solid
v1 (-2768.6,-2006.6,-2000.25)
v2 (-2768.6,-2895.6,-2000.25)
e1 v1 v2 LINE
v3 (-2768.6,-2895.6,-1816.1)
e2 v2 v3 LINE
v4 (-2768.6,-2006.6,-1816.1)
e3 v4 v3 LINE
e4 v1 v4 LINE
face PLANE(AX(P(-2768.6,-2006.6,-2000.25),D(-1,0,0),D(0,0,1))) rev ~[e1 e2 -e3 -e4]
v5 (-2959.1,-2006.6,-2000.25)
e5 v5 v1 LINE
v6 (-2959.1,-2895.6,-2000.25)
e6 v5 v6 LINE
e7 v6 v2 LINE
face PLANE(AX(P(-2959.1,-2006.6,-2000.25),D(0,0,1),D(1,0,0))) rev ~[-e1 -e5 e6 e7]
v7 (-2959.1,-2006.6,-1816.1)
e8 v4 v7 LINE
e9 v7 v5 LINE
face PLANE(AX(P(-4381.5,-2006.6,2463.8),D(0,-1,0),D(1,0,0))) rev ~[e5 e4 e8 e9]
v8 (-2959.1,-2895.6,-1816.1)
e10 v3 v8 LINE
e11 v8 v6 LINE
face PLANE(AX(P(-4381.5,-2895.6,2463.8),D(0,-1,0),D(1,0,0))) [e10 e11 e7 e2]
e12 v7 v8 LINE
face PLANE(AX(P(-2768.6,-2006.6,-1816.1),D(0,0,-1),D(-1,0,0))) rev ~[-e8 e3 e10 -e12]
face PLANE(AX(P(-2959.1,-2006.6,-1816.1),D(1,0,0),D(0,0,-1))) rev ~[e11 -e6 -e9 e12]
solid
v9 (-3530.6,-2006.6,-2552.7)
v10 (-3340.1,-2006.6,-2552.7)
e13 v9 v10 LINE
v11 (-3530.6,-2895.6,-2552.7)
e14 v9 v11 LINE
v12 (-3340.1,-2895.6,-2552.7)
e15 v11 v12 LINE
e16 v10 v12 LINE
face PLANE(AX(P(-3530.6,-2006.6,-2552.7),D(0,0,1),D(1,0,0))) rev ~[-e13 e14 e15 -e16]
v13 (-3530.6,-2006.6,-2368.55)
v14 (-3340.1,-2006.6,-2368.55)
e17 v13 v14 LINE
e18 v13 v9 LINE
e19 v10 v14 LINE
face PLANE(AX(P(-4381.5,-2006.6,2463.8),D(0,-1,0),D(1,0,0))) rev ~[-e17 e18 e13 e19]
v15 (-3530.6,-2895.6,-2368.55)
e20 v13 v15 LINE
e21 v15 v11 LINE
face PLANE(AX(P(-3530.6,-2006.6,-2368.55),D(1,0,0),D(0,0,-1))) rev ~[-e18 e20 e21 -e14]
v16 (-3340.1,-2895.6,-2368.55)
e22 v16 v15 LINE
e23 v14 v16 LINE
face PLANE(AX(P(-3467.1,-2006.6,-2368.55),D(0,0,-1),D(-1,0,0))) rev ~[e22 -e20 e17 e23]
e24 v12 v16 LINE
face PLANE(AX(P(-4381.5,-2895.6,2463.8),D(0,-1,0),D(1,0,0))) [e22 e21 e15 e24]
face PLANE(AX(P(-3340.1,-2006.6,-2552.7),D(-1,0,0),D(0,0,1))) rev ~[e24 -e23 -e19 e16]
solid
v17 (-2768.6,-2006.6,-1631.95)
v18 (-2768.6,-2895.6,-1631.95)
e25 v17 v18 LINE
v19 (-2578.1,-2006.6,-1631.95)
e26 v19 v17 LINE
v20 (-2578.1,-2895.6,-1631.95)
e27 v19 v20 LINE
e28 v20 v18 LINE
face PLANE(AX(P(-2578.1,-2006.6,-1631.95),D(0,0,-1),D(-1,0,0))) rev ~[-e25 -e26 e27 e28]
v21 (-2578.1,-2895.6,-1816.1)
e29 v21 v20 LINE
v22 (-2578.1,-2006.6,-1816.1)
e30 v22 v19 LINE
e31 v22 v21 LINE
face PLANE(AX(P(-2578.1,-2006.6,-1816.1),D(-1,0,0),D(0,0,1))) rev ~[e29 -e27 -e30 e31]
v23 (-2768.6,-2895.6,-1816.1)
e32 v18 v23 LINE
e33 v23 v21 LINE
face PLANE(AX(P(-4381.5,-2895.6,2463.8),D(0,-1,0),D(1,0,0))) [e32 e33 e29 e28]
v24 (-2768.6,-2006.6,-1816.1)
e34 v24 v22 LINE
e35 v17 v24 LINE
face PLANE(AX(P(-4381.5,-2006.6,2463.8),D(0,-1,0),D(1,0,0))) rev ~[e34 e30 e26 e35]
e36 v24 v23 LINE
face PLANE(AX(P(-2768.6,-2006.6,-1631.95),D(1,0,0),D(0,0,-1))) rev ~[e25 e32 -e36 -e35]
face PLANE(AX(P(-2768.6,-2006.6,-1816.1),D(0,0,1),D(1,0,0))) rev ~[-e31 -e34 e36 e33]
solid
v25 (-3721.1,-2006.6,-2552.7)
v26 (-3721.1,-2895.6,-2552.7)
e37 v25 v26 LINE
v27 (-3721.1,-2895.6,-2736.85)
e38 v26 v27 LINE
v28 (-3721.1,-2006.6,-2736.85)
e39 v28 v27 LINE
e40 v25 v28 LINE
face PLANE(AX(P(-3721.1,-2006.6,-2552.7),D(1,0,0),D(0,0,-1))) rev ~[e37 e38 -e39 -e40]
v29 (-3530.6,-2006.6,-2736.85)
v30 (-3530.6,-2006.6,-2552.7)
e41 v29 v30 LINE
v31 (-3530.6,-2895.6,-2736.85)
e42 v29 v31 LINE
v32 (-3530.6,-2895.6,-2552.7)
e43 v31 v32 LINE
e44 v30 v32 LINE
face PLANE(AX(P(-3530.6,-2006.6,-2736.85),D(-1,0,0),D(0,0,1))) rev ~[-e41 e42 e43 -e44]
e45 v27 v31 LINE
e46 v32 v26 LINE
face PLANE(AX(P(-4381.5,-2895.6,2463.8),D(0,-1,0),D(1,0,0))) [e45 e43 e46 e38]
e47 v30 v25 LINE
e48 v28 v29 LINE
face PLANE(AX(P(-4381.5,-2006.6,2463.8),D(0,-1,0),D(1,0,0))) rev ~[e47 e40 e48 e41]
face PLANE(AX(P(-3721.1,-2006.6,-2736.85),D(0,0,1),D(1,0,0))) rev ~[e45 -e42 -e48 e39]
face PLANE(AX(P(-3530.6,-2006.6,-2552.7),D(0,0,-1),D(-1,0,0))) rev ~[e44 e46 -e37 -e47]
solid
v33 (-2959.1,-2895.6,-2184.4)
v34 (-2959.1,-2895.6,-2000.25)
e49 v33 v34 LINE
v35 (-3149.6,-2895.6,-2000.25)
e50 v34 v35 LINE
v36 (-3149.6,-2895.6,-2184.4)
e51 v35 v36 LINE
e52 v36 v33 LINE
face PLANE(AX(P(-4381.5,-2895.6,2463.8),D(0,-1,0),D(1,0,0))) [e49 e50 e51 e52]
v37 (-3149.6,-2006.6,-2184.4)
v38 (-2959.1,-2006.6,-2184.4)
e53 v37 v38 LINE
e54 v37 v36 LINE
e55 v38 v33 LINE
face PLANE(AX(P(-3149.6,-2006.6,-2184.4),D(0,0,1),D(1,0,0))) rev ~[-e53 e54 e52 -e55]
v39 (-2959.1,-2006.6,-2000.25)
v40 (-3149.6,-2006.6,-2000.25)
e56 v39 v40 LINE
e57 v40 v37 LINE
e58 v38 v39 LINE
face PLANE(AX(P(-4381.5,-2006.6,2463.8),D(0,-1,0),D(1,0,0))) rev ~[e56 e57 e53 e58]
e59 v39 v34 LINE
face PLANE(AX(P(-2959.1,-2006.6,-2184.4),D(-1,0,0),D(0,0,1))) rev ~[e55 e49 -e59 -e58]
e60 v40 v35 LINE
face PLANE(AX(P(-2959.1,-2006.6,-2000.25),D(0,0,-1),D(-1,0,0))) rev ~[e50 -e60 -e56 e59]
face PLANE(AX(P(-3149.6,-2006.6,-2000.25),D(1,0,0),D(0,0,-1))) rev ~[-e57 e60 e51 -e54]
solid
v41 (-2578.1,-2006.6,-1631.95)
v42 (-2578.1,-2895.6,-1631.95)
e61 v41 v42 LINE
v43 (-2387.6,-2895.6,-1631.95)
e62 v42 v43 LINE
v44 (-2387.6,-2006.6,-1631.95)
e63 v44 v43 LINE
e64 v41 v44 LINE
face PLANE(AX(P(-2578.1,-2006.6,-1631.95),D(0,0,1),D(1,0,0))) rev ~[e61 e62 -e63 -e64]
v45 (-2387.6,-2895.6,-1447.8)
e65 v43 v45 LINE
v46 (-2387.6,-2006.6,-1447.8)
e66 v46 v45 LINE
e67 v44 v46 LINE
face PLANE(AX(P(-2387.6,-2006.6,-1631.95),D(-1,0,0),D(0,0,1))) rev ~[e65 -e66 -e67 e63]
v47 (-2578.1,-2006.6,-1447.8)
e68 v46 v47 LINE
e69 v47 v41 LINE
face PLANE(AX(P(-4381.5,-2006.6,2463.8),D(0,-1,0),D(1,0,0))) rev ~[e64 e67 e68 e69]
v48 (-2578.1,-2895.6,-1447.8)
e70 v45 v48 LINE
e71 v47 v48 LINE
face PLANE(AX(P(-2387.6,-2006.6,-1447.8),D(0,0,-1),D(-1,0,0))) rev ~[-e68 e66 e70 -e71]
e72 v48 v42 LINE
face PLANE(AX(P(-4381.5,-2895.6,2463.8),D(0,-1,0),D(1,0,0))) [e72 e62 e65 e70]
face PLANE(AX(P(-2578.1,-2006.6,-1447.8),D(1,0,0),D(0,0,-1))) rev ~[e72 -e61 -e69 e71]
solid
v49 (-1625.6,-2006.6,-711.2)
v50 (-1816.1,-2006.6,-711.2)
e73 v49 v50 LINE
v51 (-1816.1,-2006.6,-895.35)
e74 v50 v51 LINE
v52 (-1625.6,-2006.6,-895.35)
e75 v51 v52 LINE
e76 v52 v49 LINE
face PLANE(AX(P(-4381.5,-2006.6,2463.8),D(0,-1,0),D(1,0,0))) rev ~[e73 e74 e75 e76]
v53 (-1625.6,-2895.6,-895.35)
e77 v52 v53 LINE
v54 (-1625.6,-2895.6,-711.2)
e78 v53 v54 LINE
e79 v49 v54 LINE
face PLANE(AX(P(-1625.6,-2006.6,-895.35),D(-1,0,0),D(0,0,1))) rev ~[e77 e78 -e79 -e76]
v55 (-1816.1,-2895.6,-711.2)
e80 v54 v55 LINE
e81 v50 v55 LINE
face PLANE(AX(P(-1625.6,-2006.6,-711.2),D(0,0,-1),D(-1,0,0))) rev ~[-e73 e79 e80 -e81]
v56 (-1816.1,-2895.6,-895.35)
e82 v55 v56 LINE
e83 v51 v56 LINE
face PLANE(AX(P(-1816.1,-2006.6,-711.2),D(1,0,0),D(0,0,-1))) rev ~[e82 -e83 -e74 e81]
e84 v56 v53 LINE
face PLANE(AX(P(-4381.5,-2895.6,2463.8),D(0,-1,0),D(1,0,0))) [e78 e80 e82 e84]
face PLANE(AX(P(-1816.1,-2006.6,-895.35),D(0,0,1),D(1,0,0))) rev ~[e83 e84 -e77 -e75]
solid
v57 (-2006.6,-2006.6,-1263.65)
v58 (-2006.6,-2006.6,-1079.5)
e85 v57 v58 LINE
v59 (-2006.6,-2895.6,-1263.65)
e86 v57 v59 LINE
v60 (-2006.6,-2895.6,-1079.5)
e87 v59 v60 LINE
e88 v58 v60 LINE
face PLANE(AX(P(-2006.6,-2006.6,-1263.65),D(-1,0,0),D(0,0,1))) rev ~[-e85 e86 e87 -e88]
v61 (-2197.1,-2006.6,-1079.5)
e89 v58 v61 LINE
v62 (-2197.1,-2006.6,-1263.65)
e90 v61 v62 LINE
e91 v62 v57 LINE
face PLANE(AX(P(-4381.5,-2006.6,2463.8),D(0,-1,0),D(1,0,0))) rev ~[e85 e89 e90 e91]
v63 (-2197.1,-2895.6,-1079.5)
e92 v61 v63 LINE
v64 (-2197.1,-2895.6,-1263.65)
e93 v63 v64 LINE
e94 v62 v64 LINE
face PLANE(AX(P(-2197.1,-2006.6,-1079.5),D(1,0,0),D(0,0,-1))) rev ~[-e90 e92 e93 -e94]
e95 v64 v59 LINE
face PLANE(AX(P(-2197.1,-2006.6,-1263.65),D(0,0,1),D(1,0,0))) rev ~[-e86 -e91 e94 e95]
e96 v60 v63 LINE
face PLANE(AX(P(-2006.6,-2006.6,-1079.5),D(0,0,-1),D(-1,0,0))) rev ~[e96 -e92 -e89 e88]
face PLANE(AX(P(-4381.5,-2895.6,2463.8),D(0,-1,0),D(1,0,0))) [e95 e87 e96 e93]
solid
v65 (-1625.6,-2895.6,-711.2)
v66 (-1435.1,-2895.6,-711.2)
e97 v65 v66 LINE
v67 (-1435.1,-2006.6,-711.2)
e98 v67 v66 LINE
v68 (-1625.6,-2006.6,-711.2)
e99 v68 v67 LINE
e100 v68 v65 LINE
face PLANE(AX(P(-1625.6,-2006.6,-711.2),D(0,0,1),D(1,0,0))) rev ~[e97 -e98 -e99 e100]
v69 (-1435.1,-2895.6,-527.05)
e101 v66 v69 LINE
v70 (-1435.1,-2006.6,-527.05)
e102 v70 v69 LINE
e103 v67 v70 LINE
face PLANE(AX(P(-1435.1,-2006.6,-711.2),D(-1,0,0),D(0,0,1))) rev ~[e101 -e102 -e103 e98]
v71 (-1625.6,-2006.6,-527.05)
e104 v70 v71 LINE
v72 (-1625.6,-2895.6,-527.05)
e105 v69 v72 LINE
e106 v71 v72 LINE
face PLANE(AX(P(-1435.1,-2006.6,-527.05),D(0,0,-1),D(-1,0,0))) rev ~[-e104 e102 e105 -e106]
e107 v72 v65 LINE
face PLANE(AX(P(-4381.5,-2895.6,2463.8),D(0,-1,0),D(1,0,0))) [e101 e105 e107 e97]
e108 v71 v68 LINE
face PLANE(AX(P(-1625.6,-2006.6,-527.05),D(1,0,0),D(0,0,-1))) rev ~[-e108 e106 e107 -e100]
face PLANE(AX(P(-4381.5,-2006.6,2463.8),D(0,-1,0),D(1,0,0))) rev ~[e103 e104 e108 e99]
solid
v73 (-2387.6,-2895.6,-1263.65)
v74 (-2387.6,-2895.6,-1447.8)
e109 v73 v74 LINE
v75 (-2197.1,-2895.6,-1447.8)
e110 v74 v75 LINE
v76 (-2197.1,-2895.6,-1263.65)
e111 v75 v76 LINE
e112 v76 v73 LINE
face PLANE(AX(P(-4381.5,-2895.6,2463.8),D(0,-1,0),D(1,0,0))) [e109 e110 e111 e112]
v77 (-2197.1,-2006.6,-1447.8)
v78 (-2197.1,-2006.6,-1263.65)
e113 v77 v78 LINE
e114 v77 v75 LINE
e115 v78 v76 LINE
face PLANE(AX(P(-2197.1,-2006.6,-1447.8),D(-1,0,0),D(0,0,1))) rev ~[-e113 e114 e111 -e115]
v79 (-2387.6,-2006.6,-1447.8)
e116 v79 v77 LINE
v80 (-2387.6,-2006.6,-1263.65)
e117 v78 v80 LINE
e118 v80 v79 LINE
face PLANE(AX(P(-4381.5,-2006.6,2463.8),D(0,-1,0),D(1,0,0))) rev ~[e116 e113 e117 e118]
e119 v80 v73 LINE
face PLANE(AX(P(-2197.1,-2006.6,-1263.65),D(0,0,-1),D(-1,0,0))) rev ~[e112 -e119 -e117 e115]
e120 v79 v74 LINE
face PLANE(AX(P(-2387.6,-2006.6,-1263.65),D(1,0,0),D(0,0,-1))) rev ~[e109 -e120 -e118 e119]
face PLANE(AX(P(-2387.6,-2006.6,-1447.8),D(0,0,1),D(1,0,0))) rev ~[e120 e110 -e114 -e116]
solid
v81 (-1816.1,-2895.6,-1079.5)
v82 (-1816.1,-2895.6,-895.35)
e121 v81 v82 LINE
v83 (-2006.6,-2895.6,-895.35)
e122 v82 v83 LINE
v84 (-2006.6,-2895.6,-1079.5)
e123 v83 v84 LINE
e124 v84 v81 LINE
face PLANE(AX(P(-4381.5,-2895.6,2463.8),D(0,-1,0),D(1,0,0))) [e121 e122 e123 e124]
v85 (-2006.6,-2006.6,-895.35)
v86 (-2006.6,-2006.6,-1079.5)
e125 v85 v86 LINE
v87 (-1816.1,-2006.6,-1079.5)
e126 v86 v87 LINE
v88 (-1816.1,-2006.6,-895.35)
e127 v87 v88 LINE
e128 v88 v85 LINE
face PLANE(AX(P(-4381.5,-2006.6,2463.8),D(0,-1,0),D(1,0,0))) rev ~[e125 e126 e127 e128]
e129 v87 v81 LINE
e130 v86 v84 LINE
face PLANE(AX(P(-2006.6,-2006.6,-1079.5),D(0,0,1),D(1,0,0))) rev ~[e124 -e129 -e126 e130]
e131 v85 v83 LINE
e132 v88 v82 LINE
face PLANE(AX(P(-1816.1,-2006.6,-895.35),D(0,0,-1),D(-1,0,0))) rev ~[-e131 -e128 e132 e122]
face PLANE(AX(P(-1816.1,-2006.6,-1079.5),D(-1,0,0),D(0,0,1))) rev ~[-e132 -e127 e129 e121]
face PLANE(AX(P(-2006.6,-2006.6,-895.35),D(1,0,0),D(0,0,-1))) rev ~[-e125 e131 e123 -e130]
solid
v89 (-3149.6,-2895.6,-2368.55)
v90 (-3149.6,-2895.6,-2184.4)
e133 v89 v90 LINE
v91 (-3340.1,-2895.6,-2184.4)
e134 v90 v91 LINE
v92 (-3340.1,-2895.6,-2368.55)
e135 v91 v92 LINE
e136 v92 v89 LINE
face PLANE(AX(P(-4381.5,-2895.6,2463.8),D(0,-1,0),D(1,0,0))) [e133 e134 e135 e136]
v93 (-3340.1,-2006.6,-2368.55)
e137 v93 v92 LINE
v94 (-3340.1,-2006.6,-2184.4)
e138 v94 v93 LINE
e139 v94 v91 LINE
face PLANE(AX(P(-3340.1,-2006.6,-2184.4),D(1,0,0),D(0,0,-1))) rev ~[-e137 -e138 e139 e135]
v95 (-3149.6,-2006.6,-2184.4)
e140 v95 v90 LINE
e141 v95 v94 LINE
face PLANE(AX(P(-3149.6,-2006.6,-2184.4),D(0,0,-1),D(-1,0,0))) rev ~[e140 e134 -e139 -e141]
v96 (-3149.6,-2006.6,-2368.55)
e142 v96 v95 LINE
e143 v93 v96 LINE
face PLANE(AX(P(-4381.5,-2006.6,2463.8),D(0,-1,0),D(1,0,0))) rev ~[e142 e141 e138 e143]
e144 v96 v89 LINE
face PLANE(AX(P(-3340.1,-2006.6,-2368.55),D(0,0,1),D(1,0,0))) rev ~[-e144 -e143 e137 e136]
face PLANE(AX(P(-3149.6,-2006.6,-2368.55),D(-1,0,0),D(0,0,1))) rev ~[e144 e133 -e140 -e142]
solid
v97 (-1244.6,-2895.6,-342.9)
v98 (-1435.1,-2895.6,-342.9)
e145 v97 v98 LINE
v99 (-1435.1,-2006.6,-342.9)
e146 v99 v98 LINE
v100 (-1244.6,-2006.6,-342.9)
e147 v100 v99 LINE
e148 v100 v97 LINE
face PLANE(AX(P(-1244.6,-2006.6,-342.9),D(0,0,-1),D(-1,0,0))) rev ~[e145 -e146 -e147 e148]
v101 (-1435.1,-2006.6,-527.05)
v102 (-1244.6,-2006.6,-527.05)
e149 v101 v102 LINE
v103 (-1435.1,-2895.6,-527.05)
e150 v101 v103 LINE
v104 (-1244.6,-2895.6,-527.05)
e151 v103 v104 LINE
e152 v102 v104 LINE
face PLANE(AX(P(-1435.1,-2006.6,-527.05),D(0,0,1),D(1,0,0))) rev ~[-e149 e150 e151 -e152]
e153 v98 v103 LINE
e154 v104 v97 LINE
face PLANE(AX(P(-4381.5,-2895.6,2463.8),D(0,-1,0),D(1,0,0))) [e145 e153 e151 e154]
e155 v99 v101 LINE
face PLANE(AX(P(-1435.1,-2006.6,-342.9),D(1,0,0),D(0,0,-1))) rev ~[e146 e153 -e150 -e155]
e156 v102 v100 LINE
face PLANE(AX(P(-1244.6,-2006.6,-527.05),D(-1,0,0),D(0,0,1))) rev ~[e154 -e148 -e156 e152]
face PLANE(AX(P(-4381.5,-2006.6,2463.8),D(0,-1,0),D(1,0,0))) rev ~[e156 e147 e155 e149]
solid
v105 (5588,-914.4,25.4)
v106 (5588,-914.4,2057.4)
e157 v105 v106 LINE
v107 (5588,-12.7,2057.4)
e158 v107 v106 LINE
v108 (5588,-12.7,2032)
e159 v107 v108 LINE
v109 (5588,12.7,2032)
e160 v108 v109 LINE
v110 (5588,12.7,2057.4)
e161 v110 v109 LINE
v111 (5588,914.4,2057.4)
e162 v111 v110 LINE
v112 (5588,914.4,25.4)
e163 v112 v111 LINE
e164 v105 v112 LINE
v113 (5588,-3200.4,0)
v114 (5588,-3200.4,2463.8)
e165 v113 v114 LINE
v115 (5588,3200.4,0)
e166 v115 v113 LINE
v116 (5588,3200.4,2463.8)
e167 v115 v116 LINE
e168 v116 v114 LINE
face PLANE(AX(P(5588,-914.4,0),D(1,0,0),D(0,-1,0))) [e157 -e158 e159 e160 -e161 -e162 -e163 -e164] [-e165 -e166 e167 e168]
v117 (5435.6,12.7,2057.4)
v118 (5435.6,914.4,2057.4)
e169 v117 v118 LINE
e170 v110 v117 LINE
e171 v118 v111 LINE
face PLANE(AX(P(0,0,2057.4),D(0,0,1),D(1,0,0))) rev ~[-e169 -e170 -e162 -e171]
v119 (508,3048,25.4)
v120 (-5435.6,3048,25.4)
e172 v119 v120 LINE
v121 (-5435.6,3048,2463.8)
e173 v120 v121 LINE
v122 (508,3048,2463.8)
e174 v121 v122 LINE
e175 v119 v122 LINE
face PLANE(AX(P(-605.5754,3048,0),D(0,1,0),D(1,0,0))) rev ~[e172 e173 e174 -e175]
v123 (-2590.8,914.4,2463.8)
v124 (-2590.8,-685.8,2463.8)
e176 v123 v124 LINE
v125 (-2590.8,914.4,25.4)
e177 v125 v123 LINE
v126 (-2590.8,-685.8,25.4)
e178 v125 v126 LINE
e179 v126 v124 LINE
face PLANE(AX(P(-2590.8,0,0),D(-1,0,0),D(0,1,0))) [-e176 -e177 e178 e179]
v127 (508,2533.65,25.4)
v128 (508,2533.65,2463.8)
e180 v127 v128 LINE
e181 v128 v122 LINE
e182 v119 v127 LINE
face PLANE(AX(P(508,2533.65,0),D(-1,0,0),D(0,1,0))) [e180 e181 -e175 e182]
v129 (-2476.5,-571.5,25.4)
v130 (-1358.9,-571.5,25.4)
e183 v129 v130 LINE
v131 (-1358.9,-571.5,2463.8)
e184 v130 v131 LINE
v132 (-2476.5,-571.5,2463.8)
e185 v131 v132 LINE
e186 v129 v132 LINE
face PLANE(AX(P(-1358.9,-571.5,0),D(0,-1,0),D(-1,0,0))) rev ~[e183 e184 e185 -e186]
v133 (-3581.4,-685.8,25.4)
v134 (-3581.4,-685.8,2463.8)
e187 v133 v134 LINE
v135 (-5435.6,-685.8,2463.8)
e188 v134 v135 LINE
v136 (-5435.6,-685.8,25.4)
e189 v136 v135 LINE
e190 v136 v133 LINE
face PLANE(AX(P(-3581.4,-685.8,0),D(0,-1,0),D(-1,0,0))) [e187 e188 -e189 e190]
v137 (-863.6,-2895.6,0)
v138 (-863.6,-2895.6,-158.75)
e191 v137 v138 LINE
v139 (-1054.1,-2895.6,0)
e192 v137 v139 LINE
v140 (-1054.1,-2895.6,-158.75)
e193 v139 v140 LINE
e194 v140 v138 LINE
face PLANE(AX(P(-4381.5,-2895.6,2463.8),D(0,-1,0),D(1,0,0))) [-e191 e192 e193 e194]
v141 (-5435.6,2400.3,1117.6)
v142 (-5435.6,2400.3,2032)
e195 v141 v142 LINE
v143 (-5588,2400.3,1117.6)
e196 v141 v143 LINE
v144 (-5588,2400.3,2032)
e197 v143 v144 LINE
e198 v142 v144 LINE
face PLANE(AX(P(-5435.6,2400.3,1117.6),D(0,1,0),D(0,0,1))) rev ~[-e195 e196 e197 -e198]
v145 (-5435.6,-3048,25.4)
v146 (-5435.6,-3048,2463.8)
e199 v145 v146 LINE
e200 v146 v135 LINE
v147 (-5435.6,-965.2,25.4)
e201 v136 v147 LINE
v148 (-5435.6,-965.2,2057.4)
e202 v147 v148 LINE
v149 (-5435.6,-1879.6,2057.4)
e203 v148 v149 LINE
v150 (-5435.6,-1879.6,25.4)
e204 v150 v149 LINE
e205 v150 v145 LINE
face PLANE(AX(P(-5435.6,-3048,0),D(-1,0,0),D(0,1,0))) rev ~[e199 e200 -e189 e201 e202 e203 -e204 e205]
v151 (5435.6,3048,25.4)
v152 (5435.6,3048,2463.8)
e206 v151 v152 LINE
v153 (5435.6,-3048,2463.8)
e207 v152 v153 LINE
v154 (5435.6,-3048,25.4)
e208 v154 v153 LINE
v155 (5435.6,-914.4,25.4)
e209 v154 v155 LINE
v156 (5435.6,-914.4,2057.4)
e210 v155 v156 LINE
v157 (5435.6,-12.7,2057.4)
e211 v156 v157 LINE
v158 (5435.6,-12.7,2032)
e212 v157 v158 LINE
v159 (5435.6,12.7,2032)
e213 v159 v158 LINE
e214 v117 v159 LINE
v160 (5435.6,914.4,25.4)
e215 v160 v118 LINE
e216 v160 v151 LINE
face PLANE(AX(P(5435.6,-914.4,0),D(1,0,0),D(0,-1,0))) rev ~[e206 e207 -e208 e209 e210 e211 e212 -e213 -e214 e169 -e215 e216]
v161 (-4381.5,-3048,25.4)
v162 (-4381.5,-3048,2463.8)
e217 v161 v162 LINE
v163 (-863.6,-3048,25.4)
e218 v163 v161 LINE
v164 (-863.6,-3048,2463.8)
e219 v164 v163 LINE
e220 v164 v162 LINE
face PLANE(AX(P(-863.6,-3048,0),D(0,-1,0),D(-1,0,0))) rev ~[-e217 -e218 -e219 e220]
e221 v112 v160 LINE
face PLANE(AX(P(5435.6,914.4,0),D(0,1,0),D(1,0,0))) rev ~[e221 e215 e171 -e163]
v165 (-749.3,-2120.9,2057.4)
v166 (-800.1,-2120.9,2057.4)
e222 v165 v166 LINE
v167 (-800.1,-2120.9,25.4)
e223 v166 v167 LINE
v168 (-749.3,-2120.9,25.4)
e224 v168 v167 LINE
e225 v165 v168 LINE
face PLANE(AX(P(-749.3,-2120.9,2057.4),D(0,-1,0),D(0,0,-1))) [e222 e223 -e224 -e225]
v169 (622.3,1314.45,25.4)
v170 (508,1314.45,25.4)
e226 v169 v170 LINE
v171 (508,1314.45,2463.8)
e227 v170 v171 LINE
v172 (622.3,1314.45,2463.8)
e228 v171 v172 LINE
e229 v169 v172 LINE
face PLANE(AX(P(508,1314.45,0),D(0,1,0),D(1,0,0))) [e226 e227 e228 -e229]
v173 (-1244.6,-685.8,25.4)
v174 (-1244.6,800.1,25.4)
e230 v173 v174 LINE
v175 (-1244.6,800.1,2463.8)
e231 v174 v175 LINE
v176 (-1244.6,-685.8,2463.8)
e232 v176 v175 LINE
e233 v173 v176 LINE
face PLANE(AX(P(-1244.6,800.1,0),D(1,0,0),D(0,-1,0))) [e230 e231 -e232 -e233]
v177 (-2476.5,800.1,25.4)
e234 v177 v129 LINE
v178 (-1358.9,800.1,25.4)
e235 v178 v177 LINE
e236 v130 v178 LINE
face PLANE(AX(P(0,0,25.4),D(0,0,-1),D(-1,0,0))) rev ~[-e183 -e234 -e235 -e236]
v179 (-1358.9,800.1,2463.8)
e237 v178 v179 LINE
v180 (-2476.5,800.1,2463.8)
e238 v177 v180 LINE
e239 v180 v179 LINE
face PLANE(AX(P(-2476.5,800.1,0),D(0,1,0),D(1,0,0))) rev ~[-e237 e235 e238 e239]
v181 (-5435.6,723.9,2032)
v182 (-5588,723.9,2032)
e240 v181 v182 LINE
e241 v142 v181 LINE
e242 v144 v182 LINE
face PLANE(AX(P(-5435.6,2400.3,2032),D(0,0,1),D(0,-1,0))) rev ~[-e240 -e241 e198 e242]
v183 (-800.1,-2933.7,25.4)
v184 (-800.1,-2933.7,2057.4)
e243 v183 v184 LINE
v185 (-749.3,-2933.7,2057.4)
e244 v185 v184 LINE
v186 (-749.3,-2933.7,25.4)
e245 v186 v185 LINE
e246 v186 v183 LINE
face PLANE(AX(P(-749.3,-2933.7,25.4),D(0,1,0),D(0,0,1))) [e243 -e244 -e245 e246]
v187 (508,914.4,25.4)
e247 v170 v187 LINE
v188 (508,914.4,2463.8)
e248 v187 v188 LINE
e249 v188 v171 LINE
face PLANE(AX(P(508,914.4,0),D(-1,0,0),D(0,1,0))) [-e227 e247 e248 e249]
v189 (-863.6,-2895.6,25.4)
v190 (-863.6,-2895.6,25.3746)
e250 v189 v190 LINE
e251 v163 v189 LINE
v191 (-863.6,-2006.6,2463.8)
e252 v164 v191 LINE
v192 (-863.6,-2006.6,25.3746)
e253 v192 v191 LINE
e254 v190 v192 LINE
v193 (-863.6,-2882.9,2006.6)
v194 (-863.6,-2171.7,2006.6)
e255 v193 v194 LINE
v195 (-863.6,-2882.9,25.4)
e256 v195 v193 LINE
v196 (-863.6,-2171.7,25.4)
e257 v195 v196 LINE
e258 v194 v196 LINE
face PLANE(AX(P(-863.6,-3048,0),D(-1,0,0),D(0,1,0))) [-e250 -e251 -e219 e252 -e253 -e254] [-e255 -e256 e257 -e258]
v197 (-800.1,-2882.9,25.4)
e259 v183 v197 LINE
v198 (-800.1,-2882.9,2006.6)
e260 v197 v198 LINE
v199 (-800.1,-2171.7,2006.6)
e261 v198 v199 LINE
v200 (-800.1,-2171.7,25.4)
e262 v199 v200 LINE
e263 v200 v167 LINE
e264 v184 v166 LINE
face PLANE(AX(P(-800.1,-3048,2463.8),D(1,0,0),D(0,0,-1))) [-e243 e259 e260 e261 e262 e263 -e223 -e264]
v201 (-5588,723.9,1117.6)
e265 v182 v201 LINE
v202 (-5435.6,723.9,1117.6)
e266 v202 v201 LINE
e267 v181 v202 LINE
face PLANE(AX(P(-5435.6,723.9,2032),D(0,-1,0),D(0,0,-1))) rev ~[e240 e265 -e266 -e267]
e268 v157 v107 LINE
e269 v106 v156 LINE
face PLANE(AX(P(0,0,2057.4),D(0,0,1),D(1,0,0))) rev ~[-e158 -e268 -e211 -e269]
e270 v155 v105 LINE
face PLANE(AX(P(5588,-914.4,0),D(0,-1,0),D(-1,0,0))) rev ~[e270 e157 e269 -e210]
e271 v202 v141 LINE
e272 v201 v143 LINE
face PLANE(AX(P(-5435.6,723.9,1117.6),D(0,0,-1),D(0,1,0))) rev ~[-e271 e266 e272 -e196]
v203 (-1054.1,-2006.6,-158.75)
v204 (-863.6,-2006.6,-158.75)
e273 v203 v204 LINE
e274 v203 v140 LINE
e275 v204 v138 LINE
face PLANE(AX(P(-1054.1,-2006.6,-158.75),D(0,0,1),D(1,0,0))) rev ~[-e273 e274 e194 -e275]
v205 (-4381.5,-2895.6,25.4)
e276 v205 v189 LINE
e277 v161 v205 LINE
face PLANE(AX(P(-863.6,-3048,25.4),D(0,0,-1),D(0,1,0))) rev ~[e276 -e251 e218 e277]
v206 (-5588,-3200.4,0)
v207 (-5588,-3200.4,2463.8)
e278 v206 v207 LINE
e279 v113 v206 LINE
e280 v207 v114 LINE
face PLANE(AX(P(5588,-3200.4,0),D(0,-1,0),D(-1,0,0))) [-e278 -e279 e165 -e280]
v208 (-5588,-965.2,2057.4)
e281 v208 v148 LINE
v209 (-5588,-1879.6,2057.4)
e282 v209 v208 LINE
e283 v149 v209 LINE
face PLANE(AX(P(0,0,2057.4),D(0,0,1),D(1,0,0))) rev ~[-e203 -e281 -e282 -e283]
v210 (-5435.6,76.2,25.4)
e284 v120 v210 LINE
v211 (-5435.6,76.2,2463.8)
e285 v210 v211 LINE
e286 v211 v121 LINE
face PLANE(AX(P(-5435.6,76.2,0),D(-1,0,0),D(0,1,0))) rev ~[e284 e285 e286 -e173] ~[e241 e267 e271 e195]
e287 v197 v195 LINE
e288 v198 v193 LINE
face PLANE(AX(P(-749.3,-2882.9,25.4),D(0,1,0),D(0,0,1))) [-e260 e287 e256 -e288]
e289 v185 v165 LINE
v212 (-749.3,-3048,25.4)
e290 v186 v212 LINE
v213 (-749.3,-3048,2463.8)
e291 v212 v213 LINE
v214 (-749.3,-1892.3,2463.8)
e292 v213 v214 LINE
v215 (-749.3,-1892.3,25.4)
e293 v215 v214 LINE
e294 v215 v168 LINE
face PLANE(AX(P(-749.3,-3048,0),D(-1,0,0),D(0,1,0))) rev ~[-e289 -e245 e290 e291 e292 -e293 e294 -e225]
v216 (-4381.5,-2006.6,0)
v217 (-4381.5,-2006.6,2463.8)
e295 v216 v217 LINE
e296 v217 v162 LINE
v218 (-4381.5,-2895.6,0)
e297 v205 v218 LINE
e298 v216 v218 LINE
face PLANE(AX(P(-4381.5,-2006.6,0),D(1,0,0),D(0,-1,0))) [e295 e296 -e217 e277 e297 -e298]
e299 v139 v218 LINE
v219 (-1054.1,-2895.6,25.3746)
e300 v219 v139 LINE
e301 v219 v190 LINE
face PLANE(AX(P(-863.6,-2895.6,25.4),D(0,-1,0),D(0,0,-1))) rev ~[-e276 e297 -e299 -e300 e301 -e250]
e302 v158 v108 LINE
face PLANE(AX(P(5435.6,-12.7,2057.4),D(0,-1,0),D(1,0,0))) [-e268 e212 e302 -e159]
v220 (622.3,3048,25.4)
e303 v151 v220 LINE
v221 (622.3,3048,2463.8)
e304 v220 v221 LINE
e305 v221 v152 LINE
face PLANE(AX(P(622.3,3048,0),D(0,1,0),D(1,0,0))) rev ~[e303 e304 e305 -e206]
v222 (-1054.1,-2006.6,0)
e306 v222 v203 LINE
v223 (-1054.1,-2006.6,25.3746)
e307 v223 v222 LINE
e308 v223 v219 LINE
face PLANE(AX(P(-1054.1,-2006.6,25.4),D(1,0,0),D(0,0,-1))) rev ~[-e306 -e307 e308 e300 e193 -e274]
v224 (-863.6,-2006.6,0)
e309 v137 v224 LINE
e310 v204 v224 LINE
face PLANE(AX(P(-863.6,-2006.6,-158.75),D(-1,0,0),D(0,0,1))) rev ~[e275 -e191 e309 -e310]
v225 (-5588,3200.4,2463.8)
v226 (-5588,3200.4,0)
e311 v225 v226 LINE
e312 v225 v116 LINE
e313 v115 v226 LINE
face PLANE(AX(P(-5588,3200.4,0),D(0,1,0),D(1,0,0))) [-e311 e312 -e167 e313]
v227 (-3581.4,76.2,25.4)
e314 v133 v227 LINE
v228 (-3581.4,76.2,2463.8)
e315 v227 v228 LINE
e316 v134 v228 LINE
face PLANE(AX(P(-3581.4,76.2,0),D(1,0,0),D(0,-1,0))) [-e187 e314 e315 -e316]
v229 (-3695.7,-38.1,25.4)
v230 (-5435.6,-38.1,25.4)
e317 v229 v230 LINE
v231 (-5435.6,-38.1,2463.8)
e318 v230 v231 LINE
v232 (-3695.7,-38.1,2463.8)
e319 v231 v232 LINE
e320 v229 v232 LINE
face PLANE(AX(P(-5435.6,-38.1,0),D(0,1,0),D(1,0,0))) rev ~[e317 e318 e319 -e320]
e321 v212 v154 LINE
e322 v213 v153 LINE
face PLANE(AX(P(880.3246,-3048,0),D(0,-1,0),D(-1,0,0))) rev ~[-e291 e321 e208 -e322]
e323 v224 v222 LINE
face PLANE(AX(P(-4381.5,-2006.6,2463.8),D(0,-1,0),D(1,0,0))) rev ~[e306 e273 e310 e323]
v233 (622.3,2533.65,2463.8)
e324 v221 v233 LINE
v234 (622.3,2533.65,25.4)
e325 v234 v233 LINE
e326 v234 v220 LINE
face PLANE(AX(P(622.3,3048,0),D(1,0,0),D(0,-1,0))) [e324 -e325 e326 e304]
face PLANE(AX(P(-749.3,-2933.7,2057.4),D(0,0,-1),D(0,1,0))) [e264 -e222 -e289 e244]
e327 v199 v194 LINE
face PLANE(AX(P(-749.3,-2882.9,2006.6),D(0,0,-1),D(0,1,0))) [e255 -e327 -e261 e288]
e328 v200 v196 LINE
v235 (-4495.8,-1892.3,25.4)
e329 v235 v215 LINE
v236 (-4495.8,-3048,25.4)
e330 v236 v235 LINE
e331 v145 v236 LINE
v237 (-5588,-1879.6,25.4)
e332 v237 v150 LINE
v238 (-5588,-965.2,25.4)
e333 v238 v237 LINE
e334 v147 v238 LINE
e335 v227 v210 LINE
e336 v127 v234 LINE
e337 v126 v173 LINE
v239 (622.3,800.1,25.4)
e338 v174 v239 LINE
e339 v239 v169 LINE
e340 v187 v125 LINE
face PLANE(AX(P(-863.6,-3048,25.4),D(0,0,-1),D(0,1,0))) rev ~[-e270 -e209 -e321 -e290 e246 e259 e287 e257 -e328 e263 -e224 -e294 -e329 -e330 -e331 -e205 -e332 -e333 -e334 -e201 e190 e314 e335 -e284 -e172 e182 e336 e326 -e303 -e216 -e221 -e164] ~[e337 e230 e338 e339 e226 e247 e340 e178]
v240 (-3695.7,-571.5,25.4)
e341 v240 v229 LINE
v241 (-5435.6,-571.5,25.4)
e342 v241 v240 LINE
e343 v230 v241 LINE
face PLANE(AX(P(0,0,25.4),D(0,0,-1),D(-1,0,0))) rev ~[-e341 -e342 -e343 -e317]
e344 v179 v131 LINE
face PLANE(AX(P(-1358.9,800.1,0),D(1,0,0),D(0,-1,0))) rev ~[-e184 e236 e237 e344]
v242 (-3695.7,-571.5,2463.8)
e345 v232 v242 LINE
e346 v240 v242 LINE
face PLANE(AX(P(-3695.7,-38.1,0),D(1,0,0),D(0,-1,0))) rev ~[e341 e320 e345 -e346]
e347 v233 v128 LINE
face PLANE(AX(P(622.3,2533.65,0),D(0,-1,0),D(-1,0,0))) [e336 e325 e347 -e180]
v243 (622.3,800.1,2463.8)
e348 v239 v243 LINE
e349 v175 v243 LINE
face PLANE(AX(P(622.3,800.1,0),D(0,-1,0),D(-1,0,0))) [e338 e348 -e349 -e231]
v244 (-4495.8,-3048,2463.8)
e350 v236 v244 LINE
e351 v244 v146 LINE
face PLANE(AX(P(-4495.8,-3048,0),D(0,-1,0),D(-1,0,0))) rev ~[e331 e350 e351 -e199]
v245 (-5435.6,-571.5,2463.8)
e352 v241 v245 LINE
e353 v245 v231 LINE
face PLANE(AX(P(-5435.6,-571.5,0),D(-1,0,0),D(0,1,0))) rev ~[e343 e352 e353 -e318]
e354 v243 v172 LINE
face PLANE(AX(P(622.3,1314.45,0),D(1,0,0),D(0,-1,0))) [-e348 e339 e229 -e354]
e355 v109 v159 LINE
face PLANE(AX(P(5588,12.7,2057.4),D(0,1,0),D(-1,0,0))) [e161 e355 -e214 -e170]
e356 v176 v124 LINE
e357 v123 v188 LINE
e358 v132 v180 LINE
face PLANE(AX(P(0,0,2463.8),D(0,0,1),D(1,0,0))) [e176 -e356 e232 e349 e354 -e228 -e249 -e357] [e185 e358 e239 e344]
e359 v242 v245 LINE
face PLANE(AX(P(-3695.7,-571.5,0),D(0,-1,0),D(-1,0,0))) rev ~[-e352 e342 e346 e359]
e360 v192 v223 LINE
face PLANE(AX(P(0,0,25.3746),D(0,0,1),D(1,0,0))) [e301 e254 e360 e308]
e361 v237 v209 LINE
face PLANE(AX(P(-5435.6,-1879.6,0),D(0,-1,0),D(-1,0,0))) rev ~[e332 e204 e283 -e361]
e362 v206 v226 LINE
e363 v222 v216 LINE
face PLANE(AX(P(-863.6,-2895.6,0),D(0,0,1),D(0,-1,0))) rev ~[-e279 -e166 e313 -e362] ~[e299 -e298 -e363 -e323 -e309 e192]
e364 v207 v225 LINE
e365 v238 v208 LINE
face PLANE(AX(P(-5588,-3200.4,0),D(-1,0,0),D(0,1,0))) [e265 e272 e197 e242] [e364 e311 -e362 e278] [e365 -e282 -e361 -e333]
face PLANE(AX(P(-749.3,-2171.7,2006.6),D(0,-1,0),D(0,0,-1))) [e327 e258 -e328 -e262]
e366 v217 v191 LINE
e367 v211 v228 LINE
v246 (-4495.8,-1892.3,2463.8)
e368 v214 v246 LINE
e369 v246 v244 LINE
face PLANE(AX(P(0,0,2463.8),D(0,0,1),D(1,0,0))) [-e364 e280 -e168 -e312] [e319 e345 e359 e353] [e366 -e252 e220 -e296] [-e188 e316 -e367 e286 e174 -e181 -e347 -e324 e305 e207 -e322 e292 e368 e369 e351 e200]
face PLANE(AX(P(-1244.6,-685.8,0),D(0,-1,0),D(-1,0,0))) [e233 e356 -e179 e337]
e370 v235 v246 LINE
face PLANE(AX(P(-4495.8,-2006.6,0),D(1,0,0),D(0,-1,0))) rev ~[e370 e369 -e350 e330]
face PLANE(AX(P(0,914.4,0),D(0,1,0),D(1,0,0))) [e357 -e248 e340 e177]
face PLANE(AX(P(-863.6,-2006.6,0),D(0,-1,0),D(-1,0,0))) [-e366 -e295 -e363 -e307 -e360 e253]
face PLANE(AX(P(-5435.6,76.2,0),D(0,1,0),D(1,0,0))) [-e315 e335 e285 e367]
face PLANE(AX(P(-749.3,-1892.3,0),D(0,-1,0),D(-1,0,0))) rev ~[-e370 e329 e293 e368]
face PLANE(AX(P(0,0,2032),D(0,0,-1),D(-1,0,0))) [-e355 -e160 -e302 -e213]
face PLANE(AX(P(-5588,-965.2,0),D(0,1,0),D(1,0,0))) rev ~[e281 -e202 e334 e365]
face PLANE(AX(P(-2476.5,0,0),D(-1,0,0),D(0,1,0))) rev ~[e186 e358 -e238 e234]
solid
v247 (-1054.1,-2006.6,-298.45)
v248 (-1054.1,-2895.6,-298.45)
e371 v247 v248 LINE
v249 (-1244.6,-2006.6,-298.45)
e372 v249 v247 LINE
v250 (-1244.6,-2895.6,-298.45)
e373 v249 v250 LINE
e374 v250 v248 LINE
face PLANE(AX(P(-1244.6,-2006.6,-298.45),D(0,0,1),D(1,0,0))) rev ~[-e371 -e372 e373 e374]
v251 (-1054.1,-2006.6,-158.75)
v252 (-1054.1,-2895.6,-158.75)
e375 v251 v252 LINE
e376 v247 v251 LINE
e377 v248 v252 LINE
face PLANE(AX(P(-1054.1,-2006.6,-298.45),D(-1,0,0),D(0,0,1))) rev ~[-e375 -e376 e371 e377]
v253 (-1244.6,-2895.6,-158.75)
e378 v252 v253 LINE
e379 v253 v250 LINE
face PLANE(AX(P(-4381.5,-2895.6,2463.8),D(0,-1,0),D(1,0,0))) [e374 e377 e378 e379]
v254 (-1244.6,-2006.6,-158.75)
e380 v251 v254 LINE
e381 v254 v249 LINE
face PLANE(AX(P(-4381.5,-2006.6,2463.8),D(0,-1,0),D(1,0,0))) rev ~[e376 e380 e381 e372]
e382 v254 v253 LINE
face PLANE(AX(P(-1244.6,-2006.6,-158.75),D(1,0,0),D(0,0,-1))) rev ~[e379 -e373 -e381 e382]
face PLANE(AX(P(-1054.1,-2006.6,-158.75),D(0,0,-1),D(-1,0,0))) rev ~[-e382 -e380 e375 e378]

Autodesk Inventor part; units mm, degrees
ref_plane "YZ Plane" through (0, 0, 0) normal (1, 0, 0) x (0, 1, 0)
ref_plane "XZ Plane" through (0, 0, 0) normal (0, 1, 0) x (-1, 0, 0)
ref_plane "XY Plane" through (0, 0, 0) normal (0, 0, 1) x (1, 0, 0)
sketch "Sketch1" plane through (0, 0, 0) normal (0, 0, 1) x (1, 0, 0)
  line L0 (-5588, 3200.4) -> (5588, 3200.4)
  line L1 (5588, -3200.4) -> (-5588, -3200.4)
  line L2 (-3958.3754, 3048) -> (-719.8754, 3048)
  line L3 (5435.6, 914.4) -> (5588, 914.4)
  line L4 (5588, -914.4) -> (5435.6, -914.4)
  line L5 (-4072.6754, 3048) -> (-605.5754, 3048)
  line L6 (5588, 3200.4) -> (5588, 914.4)
  line L7 (5588, -914.4) -> (5588, -3200.4)
  line L8 (5435.6, 3048) -> (5435.6, 914.4)
  line L9 (5435.6, -914.4) -> (5435.6, -3048)
  line L10 (-5588, 894.5564) -> (-5588, 3200.4)
  line L11 (-5435.6, 76.2) -> (-5435.6, 3048)
  line L12 (0, -4480.56) -> (0, 4480.56) projected
  line L13 (-7823.2, 0) -> (7823.2, 0) projected
  line L14 (-863.6, -3048) -> (-863.6, -2006.6)
  line L15 (-863.6, -2006.6) -> (-4381.5, -2006.6)
  line L16 (-4495.8, -2006.6) -> (-4495.8, -3048)
  line L17 (-5435.6, 76.2) -> (-3581.4, 76.2)
  line L18 (-3581.4, 76.2) -> (-3581.4, -685.8)
  line L19 (-3581.4, -685.8) -> (-5435.6, -685.8)
  line L20 (-5435.6, -571.5) -> (-5435.6, -38.1)
  line L21 (-5435.6, -38.1) -> (-3695.7, -38.1)
  line L22 (-3695.7, -38.1) -> (-3695.7, -571.5)
  line L23 (-3695.7, -571.5) -> (-5435.6, -571.5)
  line L24 (-5435.6, -571.5) -> (-5435.6, -38.1)
  line L25 (-5588, -965.2) -> (-5435.6, -965.2)
  line L26 (-5435.6, -1879.6) -> (-5588, -1879.6)
  line L27 (-5435.6, -3048) -> (-5435.6, -1879.6)
  line L28 (-5588, -3200.4) -> (-5588, -1879.6)
  line L29 (-5588, -965.2) -> (-5588, 914.4)
  line L30 (-2590.8, 914.4) -> (-1377.4097, 914.4)
  line L31 (-1244.6, 800.1) -> (-1244.6, -685.8)
  line L32 (-1244.6, -685.8) -> (-2590.8, -685.8)
  line L33 (-2590.8, -685.8) -> (-2590.8, 914.4)
  line L34 (-1377.4097, 914.4) -> (508, 914.4)
  line L35 (622.3, 952.5) -> (622.3, 800.1)
  line L36 (622.3, 800.1) -> (-1244.6, 800.1)
  line L37 (508, 914.4) -> (508, 1314.45)
  line L38 (508, 1314.45) -> (622.3, 1314.45)
  line L39 (622.3, 1314.45) -> (622.3, 800.1)
  line L40 (622.3, 3048) -> (622.3, 2533.65)
  line L41 (622.3, 2533.65) -> (508, 2533.65)
  line L42 (508, 2533.65) -> (508, 3048)
  line L43 (-2476.5, 800.1) -> (-1358.9, 800.1)
  line L44 (-1358.9, 800.1) -> (-1358.9, -571.5)
  line L45 (-1358.9, -571.5) -> (-2476.5, -571.5)
  line L46 (-2476.5, -571.5) -> (-2476.5, 800.1)
  line L47 (-749.3, -3048) -> (-749.3, -1892.3)
  line L48 (-749.3, -1892.3) -> (-4495.8, -1892.3)
  line L49 (-4495.8, -1892.3) -> (-4495.8, -2006.6)
  line L50 (-5435.6, 3048) -> (508, 3048)
  line L51 (622.3, 3048) -> (5435.6, 3048)
  line L52 (-4381.5, -2006.6) -> (-4381.5, -3048)
  line L53 (-863.6, -2006.6) -> (-1060.3581, -2006.6)
  line L54 (-5435.6, -965.2) -> (-5435.6, -685.8)
  line L55 (-5435.6, -571.5) -> (-5435.6, -38.1)
  line L56 (-4495.8, -3048) -> (-5435.6, -3048)
  line L57 (5435.6, -3048) -> (-749.3, -3048)
  line L58 (-863.6, -3048) -> (-4381.5, -3048)
  line L59 (880.3246, -3048) -> (-749.3, -3048)
  line L60 (-5435.6, -38.1) -> (-5435.6, -571.5)
  line L61 (-5435.6, -685.8) -> (-5435.6, -965.2)
  line L62 (-5435.6, -685.8) -> (-3581.4, -685.8)
  line L63 (-5435.6, 76.2) -> (-3581.4, 76.2)
  line L64 (-5435.6, 76.2) -> (-5435.6, 3048)
  line L65 (-5435.6, -685.8) -> (-5435.6, -965.2)
  line L66 (-5435.6, -965.2) -> (-5588, -965.2)
  line L67 (-5588, -965.2) -> (-5588, 3200.4)
  line L68 (-5435.6, 3048) -> (-5435.6, 76.2)
  line L69 (-5435.6, 76.2) -> (-3581.4, 76.2)
  line L70 (-3581.4, 76.2) -> (-3581.4, -685.8)
  line L71 (-3581.4, -685.8) -> (-5435.6, -685.8)
  line L72 (-5435.6, -571.5) -> (-3695.7, -571.5)
  line L73 (-3695.7, -571.5) -> (-3695.7, -38.1)
  line L74 (-3695.7, -38.1) -> (-5435.6, -38.1)
  line L75 (-5435.6, -38.1) -> (-5435.6, -571.5)
  dimension "d14" = 1828.8
  dimension "d90" = 6299.2
  dimension "d94" = 114.3
  dimension "d95" = 114.3
  dimension "d96" = 114.3
  dimension "d99" = 914.4
  dimension "d100" = 152.4
  dimension "d102" = 939.8
  dimension "d104" = 990.6
  dimension "d105" = 114.3
  dimension "d106" = 114.3
  dimension "d107" = 114.3
  dimension "d108" = 114.3
  dimension "d109" = 114.3
  dimension "d110" = 6680.2
  dimension "d112" = 1219.2
  dimension "d120" = 152.4
  dimension "d122" = 2971.8
  dimension "d123" = 2286
  dimension "d124" = 5943.6
  dimension "d125" = 114.3
  dimension "d127" = 114.3
  dimension "d128" = 6400.8
  dimension "d129" = 152.4
  dimension "d130" = 1168.4
  dimension "d131" = 1041.4
  dimension "d132" = 114.3
  dimension "d133" = 1854.2
  dimension "d134" = 2362.2
  dimension "d135" = 10871.2
  dimension "d236" = 2133.6
  dimension "d237" = 514.35
  dimension "d238" = 114.3
extrude "Extrusion7" add sketch "Sketch1" along normal blind 2463.8 contours L57 L9 L4 L7 L1 L12 | L12 L1 L28 L26 L27 L56 L16 L49 L48 L47 L57 | L0 L12 L50 L5 L2 L11 L17 L18 L13 L29 L10 | L0 L6 L3 L8 L51 L40 L41 L42 L50 L12 | L34 L37 L38 L39 L35 L36 L12 | L12 L36 L31 L13 L44 L43 L46 L33 L30 L34 | L13 L18 L19 L54 L25 L29 | L13 L46 L45 L44 L31 L32 L33
sketch "Sketch4" plane through (0, 0, 0) normal (0, 0, -1) x (-1, 0, 0)
  line L0 (4381.5, -3048) -> (863.6, -3048) projected
  line L1 (863.6, -3048) -> (863.6, -2006.6) projected
  line L2 (863.6, -2006.6) -> (4381.5, -2006.6) projected
  line L3 (4381.5, -2006.6) -> (4381.5, -3048) projected
  line L4 (-5435.6, -3048) -> (749.3, -3048) projected
  line L5 (-5435.6, -914.4) -> (-5435.6, -3048) projected
  line L6 (-5588, -914.4) -> (-5435.6, -914.4) projected
  line L7 (-5588, -3200.4) -> (-5588, -914.4) projected
  line L8 (5588, -3200.4) -> (-5588, -3200.4) projected
  line L9 (5588, -1879.6) -> (5588, -3200.4) projected
  line L10 (5435.6, -1879.6) -> (5588, -1879.6) projected
  line L11 (5435.6, -3048) -> (5435.6, -1879.6) projected
  line L12 (4495.8, -3048) -> (5435.6, -3048) projected
  line L13 (4495.8, -1892.3) -> (4495.8, -3048) projected
  line L14 (749.3, -1892.3) -> (4495.8, -1892.3) projected
  line L15 (749.3, -3048) -> (749.3, -1892.3) projected
  line L16 (3695.7, -571.5) -> (3695.7, -38.1) projected
  line L17 (3695.7, -38.1) -> (5435.6, -38.1) projected
  line L18 (5435.6, -38.1) -> (5435.6, -571.5) projected
  line L19 (5435.6, -571.5) -> (3695.7, -571.5) projected
  line L20 (5435.6, 3048) -> (-508, 3048) projected
  line L21 (5435.6, 76.2) -> (5435.6, 3048) projected
  line L22 (3581.4, 76.2) -> (5435.6, 76.2) projected
  line L23 (3581.4, -685.8) -> (3581.4, 76.2) projected
  line L24 (5435.6, -685.8) -> (3581.4, -685.8) projected
  line L25 (5435.6, -965.2) -> (5435.6, -685.8) projected
  line L26 (5588, -965.2) -> (5435.6, -965.2) projected
  line L27 (5588, 3200.4) -> (5588, -965.2) projected
  line L28 (-5588, 3200.4) -> (5588, 3200.4) projected
  line L29 (-5588, 914.4) -> (-5588, 3200.4) projected
  line L30 (-5435.6, 914.4) -> (-5588, 914.4) projected
  line L31 (-5435.6, 3048) -> (-5435.6, 914.4) projected
  line L32 (-622.3, 3048) -> (-5435.6, 3048) projected
  line L33 (-622.3, 2533.65) -> (-622.3, 3048) projected
  line L34 (-508, 2533.65) -> (-622.3, 2533.65) projected
  line L35 (-508, 3048) -> (-508, 2533.65) projected
  line L36 (1358.9, -571.5) -> (1358.9, 800.1) projected
  line L37 (1358.9, 800.1) -> (2476.5, 800.1) projected
  line L38 (2476.5, 800.1) -> (2476.5, -571.5) projected
  line L39 (2476.5, -571.5) -> (1358.9, -571.5) projected
  line L40 (2590.8, 914.4) -> (-508, 914.4) projected
  line L41 (-508, 914.4) -> (-508, 1314.45) projected
  line L42 (-508, 1314.45) -> (-622.3, 1314.45) projected
  line L43 (-622.3, 1314.45) -> (-622.3, 800.1) projected
  line L44 (-622.3, 800.1) -> (1244.6, 800.1) projected
  line L45 (1244.6, 800.1) -> (1244.6, -685.8) projected
  line L46 (1244.6, -685.8) -> (2590.8, -685.8) projected
  line L47 (2590.8, -685.8) -> (2590.8, 914.4) projected
  line L48 (-5588, 3200.4) -> (5588, 3200.4)
  line L49 (5588, 3200.4) -> (5588, -2006.6)
  line L50 (5588, -2006.6) -> (-5588, -2006.6)
  line L51 (-5588, -2006.6) -> (-5588, 3200.4)
  line L52 (-5588, -2006.6) -> (863.6, -2006.6)
  line L53 (863.6, -2006.6) -> (863.6, -3200.4)
  line L54 (863.6, -3200.4) -> (-5588, -3200.4)
  line L55 (-5588, -3200.4) -> (-5588, -2006.6)
  line L56 (4381.5, -2006.6) -> (5588, -2006.6)
  line L57 (5588, -2006.6) -> (5588, -3200.4)
  line L58 (5588, -3200.4) -> (4381.5, -3200.4)
  line L59 (4381.5, -3200.4) -> (4381.5, -2006.6)
  line L60 (4381.5, -3048) -> (863.6, -3048)
  line L61 (863.6, -3048) -> (863.6, -3200.4)
  line L62 (863.6, -3200.4) -> (4381.5, -3200.4)
  line L63 (4381.5, -3200.4) -> (4381.5, -3048)
  line L64 (863.6, -3200.4) -> (4381.5, -3200.4)
  line L65 (4381.5, -3200.4) -> (4381.5, -2895.6)
  line L66 (4381.5, -2895.6) -> (863.6, -2895.6)
  line L67 (863.6, -2895.6) -> (863.6, -3200.4)
  point P0 (0, 0)
  dimension "d192" = 889
extrude "Extrusion8" add sketch "Sketch4" against normal blind 25.4 contours L59 L8 L53 L0 | L3 L50 L13 L12 L11 L9 L8 L59 | L53 L8 L7 L50 L5 L4 L15 L1 | L2 L50 L15 L14 L13 | L50 L11 L12 L13 | L13 L14 L15 L50 L5 L6 L51 L30 L31 L32 L33 L34 L35 L20 L21 L22 L23 L24 L25 L26 L49 L10 L11 | L50 L11 L10 L9 | L15 L4 L5 L50 | L7 L6 L5 L50 | L26 L25 L24 L23 L22 L21 L20 L35 L34 L33 L32 L31 L30 L29 L28 L27 | L16 L17 L18 L19 | L36 L37 L38 L39 | L47 L46 L45 L44 L43 L42 L41 L40
sketch "Sketch5" plane through (-749.3, -3048, 2463.8) normal (1, 0, 0) x (0, 0, -1)
  line L0 (2438.4, 0) -> (2438.4, 1155.7) projected
  line L1 (2438.4, 1155.7) -> (0, 1155.7) projected
  line L2 (2438.4, 114.3) -> (406.4, 114.3)
  line L3 (406.4, 114.3) -> (406.4, 927.1)
  line L4 (406.4, 927.1) -> (2438.4, 927.1)
  line L5 (2438.4, 927.1) -> (2438.4, 114.3)
  line L6 (2438.4, 165.1) -> (457.2, 165.1)
  line L7 (457.2, 165.1) -> (457.2, 876.3)
  line L8 (457.2, 876.3) -> (2438.4, 876.3)
  line L9 (2438.4, 876.3) -> (2438.4, 165.1)
  point P0 (2463.8, 3048)
  dimension "d140" = 2032
  dimension "d142" = 228.6
  dimension "d143" = 812.8
  dimension "d144" = 1981.2
  dimension "d145" = 711.2
  dimension "d146" = 50.8
extrude "Extrusion9" cut sketch "Sketch5" against normal blind 50.8 contours L2 L3 L4 L0 L8 L7 L6
extrude "Extrusion10" cut sketch "Sketch5" against normal up to surface (114.3 mm away) contours L6 L7 L8 L0
sketch "Sketch6" plane through (0, 0, 2463.8) normal (0, 0, 1) x (1, 0, 0)
  line L0 (-3695.7, -38.1) -> (-3695.7, -571.5) projected
  line L1 (-3695.7, -571.5) -> (-5435.6, -571.5) projected
  line L2 (-5435.6, -571.5) -> (-5435.6, -38.1) projected
  line L3 (-5435.6, -38.1) -> (-3695.7, -38.1) projected
  line L4 (-5435.6, 3048) -> (508, 3048) projected
  line L5 (508, 3048) -> (508, 2533.65) projected
  line L6 (508, 2533.65) -> (622.3, 2533.65) projected
  line L7 (622.3, 2533.65) -> (622.3, 3048) projected
  line L8 (622.3, 3048) -> (5435.6, 3048) projected
  line L9 (5435.6, 3048) -> (5435.6, 914.4) projected
  line L10 (5435.6, 914.4) -> (5588, 914.4) projected
  line L11 (5588, 914.4) -> (5588, 3200.4) projected
  line L12 (5588, 3200.4) -> (-5588, 3200.4) projected
  line L13 (-5588, 3200.4) -> (-5588, -965.2) projected
  line L14 (-5588, -965.2) -> (-5435.6, -965.2) projected
  line L15 (-5435.6, -965.2) -> (-5435.6, -685.8) projected
  line L16 (-5435.6, -685.8) -> (-3581.4, -685.8) projected
  line L17 (-3581.4, -685.8) -> (-3581.4, 76.2) projected
  line L18 (-3581.4, 76.2) -> (-5435.6, 76.2) projected
  line L19 (-5435.6, 76.2) -> (-5435.6, 3048) projected
  line L20 (-1358.9, 800.1) -> (-1358.9, -571.5) projected
  line L21 (-1358.9, -571.5) -> (-2476.5, -571.5) projected
  line L22 (-2476.5, -571.5) -> (-2476.5, 800.1) projected
  line L23 (-2476.5, 800.1) -> (-1358.9, 800.1) projected
  line L24 (508, 914.4) -> (-2590.8, 914.4) projected
  line L25 (-2590.8, 914.4) -> (-2590.8, -685.8) projected
  line L26 (-2590.8, -685.8) -> (-1244.6, -685.8) projected
  line L27 (-1244.6, -685.8) -> (-1244.6, 800.1) projected
  line L28 (-1244.6, 800.1) -> (622.3, 800.1) projected
  line L29 (622.3, 800.1) -> (622.3, 1314.45) projected
  line L30 (622.3, 1314.45) -> (508, 1314.45) projected
  line L31 (508, 1314.45) -> (508, 914.4) projected
  line L32 (5435.6, 914.4) -> (5588, 914.4)
  line L33 (5588, 914.4) -> (5588, -914.4)
  line L34 (5588, -914.4) -> (5435.6, -914.4)
  line L35 (5435.6, -914.4) -> (5435.6, 914.4)
  line L36 (-5588, -965.2) -> (-5435.6, -965.2)
  line L37 (-5435.6, -965.2) -> (-5435.6, -1879.6)
  line L38 (-5435.6, -1879.6) -> (-5588, -1879.6)
  line L39 (-5588, -1879.6) -> (-5588, -965.2)
  point P0 (0, 0)
extrude "Extrusion11" add sketch "Sketch6" against normal blind 406.4 contours L37 L38 L39 L14 | L10 L33 L34 L35
sketch "Sketch7" plane through (-5435.6, 76.2, 2463.8) normal (1, 0, 0) x (0, 0, -1)
  line L0 (2438.4, 0) -> (2438.4, 2971.8) projected
  line L1 (2438.4, 2971.8) -> (0, 2971.8) projected
  line L2 (431.8, 647.7) -> (1346.2, 647.7)
  line L3 (1346.2, 647.7) -> (1346.2, 2324.1)
  line L4 (1346.2, 2324.1) -> (431.8, 2324.1)
  line L5 (431.8, 2324.1) -> (431.8, 647.7)
  point P0 (2463.8, -76.2)
  dimension "d153" = 1676.4
  dimension "d155" = 914.4
  dimension "d156" = 1092.2
  dimension "d157" = 647.7
extrude "Extrusion12" cut sketch "Sketch7" against normal up to surface (152.4 mm away)
sketch "Sketch9" plane through (-863.6, -3048, 2463.8) normal (-1, 0, 0) x (0, 0, 1)
  line L0 (-2463.8, 0) -> (-2438.4, 0)
  line L1 (-2438.4, 0) -> (-2438.4, 152.4)
  line L2 (-2438.4, 152.4) -> (-2463.8, 152.4)
  line L3 (-2463.8, 152.4) -> (-2463.8, 0)
  point P0 (-2463.8, 3048)
  dimension "d193" = 152.4
extrude "Extrusion14" add sketch "Sketch9" along normal up to surface (3517.9 mm away)
sketch "Sketch11" plane through (0, 0, 2057.4) normal (0, 0, -1) x (-1, 0, 0)
  line L0 (-5435.6, -914.4) -> (-5435.6, 914.4) projected
  line L1 (-5588, 914.4) -> (-5588, -914.4) projected
  line L2 (7823.2, 0) -> (-7823.2, 0) projected
  line L3 (-5588, 12.7) -> (-5435.6, 12.7)
  line L4 (-5435.6, 12.7) -> (-5435.6, -12.7)
  line L5 (-5435.6, -12.7) -> (-5588, -12.7)
  line L6 (-5588, -12.7) -> (-5588, 12.7)
  point P0 (0, 0)
  dimension "d230" = 25.4
extrude "Extrusion16" add sketch "Sketch11" along normal blind 25.4
sketch "Sketch10" plane through (-4381.5, -2006.6, 2463.8) normal (0, -1, 0) x (1, 0, 0)
  line L0 (3517.9, -2463.8) -> (3517.9, 0) projected
  line L1 (0, 0) -> (3517.9, 0) projected
  line L2 (3632.2, -2438.4) -> (-114.3, -2438.4) projected
  line L3 (-114.3, -2438.4) -> (-114.3, 0) projected
  line L4 (3632.2, 0) -> (-114.3, 0) projected
  line L5 (3632.2, -2438.4) -> (3632.2, 0) projected
  line L6 (850.9, -5016.5) -> (1041.4, -5016.5)
  line L7 (1041.4, -5016.5) -> (1041.4, -4832.35)
  line L8 (1041.4, -4832.35) -> (914.4, -4832.35)
  line L9 (1041.4, -4832.35) -> (1231.9, -4832.35)
  line L10 (1231.9, -4832.35) -> (1231.9, -4648.2)
  line L11 (1231.9, -4648.2) -> (1041.4, -4648.2)
  line L12 (1041.4, -4648.2) -> (1041.4, -4832.35)
  line L13 (1612.9, -4464.05) -> (1612.9, -4279.9)
  line L14 (1422.4, -4648.2) -> (1422.4, -4464.05)
  line L15 (1422.4, -4464.05) -> (1612.9, -4464.05)
  line L16 (1612.9, -4279.9) -> (1422.4, -4279.9)
  line L17 (1422.4, -4279.9) -> (1422.4, -4464.05)
  line L18 (1231.9, -4648.2) -> (1422.4, -4648.2)
  line L19 (1422.4, -4464.05) -> (1231.9, -4464.05)
  line L20 (1231.9, -4464.05) -> (1231.9, -4648.2)
  line L21 (2184.4, -3911.6) -> (2184.4, -3727.45)
  line L22 (2184.4, -3543.3) -> (2184.4, -3727.45)
  line L23 (2184.4, -3727.45) -> (2374.9, -3727.45)
  line L24 (2374.9, -3543.3) -> (2184.4, -3543.3)
  line L25 (1993.9, -3727.45) -> (1993.9, -3911.6)
  line L26 (1993.9, -3911.6) -> (2184.4, -3911.6)
  line L27 (2184.4, -3727.45) -> (1993.9, -3727.45)
  line L28 (2374.9, -3727.45) -> (2374.9, -3543.3)
  line L29 (1993.9, -4095.75) -> (1993.9, -3911.6)
  line L30 (1993.9, -3911.6) -> (1803.4, -3911.6)
  line L31 (1803.4, -4095.75) -> (1993.9, -4095.75)
  line L32 (1803.4, -3911.6) -> (1803.4, -4095.75)
  line L33 (1803.4, -4279.9) -> (1803.4, -4095.75)
  line L34 (1803.4, -4095.75) -> (1612.9, -4095.75)
  line L35 (1612.9, -4279.9) -> (1803.4, -4279.9)
  line L36 (1612.9, -4095.75) -> (1612.9, -4279.9)
  line L37 (2755.9, -3175) -> (2946.4, -3175)
  line L38 (2946.4, -3175) -> (2946.4, -2990.85)
  line L39 (2946.4, -2806.7) -> (2946.4, -2990.85)
  line L40 (2946.4, -2990.85) -> (3136.9, -2990.85)
  line L41 (3136.9, -2806.7) -> (2946.4, -2806.7)
  line L42 (3136.9, -2990.85) -> (3136.9, -2806.7)
  line L43 (3136.9, -2622.55) -> (3136.9, -2806.7)
  line L44 (3136.9, -2806.7) -> (3327.4, -2806.7)
  line L45 (3327.4, -2622.55) -> (3136.9, -2622.55)
  line L46 (3327.4, -2806.7) -> (3327.4, -2622.55)
  line L47 (2374.9, -3359.15) -> (2374.9, -3543.3)
  line L48 (2374.9, -3543.3) -> (2565.4, -3543.3)
  line L49 (2565.4, -3543.3) -> (2565.4, -3359.15)
  line L50 (2565.4, -3359.15) -> (2374.9, -3359.15)
  line L51 (2565.4, -3175) -> (2565.4, -3359.15)
  line L52 (2565.4, -3359.15) -> (2755.9, -3359.15)
  line L53 (2755.9, -3175) -> (2565.4, -3175)
  line L54 (2755.9, -3359.15) -> (2755.9, -3175)
  line L55 (2755.9, -2990.85) -> (2755.9, -3175)
  line L56 (2946.4, -2990.85) -> (2755.9, -2990.85)
  line L57 (3327.4, -2622.55) -> (3517.9, -2622.55)
  line L58 (3517.9, -2622.55) -> (3517.9, -2438.4)
  line L59 (3517.9, -2438.4) -> (3327.4, -2438.4)
  line L60 (3327.4, -2438.4) -> (3327.4, -2622.55)
  line L61 (3136.9, -2762.25) -> (3327.4, -2762.25)
  line L62 (1041.4, -4832.35) -> (850.9, -4832.35)
  line L63 (850.9, -4832.35) -> (850.9, -5016.5)
  line L64 (1041.4, -5016.5) -> (1041.4, -4832.35)
  line L65 (850.9, -5016.5) -> (660.4, -5016.5)
  line L66 (660.4, -5016.5) -> (660.4, -5200.65)
  line L67 (660.4, -5200.65) -> (850.9, -5200.65)
  line L68 (850.9, -5200.65) -> (850.9, -5016.5)
  point P0 (4381.5, -2463.8)
  dimension "d197" = 184.15
  dimension "d198" = 190.5
  dimension "d199" = 184.15
  dimension "d200" = 190.5
  dimension "d201" = 184.15
  dimension "d202" = 190.5
  dimension "d203" = 184.15
  dimension "d204" = 190.5
  dimension "d205" = 184.15
  dimension "d206" = 190.5
  dimension "d207" = 184.15
  dimension "d208" = 190.5
  dimension "d209" = 184.15
  dimension "d210" = 190.5
  dimension "d211" = 184.15
  dimension "d212" = 190.5
  dimension "d213" = 184.15
  dimension "d214" = 190.5
  dimension "d215" = 184.15
  dimension "d216" = 190.5
  dimension "d217" = 184.15
  dimension "d218" = 190.5
  dimension "d219" = 184.15
  dimension "d220" = 190.5
  dimension "d221" = 184.15
  dimension "d222" = 184.15
  dimension "d223" = 190.5
  dimension "d224" = 190.5
  dimension "d225" = 190.5
  dimension "d226" = 184.15
extrude "Extrusion15" add sketch "Sketch10" along normal blind 889 contours L58 L57 L60 L2 L0 | L68 L67 L66 L65 | L7 L6 L63 L62 L8 | L10 L9 L12 L11 | L14 L18 L20 L19 | L13 L15 L17 L16 | L33 L35 L36 L34 | L29 L31 L32 L30 | L21 L26 L25 L27 | L28 L23 L22 L24 | L49 L48 L47 L50 | L54 L52 L51 L53 | L38 L37 L55 L56 | L42 L40 L39 L41 | L46 L61 L43 L45
sketch "Sketch12" plane through (0, 0, 25.4) normal (0, 0, 1) x (1, 0, 0)
  line L0 (-1054.1, -2895.6) -> (-863.6, -2895.6)
  line L1 (-863.6, -2895.6) -> (-863.6, -2006.6)
  line L2 (-863.6, -2006.6) -> (-1054.1, -2006.6)
  line L3 (-1054.1, -2006.6) -> (-1054.1, -2895.6)
  point P0 (0, 0)
extrude "Extrusion17" cut sketch "Sketch12" against normal blind 0.0254
properties part number "2nd Floor Updated"
